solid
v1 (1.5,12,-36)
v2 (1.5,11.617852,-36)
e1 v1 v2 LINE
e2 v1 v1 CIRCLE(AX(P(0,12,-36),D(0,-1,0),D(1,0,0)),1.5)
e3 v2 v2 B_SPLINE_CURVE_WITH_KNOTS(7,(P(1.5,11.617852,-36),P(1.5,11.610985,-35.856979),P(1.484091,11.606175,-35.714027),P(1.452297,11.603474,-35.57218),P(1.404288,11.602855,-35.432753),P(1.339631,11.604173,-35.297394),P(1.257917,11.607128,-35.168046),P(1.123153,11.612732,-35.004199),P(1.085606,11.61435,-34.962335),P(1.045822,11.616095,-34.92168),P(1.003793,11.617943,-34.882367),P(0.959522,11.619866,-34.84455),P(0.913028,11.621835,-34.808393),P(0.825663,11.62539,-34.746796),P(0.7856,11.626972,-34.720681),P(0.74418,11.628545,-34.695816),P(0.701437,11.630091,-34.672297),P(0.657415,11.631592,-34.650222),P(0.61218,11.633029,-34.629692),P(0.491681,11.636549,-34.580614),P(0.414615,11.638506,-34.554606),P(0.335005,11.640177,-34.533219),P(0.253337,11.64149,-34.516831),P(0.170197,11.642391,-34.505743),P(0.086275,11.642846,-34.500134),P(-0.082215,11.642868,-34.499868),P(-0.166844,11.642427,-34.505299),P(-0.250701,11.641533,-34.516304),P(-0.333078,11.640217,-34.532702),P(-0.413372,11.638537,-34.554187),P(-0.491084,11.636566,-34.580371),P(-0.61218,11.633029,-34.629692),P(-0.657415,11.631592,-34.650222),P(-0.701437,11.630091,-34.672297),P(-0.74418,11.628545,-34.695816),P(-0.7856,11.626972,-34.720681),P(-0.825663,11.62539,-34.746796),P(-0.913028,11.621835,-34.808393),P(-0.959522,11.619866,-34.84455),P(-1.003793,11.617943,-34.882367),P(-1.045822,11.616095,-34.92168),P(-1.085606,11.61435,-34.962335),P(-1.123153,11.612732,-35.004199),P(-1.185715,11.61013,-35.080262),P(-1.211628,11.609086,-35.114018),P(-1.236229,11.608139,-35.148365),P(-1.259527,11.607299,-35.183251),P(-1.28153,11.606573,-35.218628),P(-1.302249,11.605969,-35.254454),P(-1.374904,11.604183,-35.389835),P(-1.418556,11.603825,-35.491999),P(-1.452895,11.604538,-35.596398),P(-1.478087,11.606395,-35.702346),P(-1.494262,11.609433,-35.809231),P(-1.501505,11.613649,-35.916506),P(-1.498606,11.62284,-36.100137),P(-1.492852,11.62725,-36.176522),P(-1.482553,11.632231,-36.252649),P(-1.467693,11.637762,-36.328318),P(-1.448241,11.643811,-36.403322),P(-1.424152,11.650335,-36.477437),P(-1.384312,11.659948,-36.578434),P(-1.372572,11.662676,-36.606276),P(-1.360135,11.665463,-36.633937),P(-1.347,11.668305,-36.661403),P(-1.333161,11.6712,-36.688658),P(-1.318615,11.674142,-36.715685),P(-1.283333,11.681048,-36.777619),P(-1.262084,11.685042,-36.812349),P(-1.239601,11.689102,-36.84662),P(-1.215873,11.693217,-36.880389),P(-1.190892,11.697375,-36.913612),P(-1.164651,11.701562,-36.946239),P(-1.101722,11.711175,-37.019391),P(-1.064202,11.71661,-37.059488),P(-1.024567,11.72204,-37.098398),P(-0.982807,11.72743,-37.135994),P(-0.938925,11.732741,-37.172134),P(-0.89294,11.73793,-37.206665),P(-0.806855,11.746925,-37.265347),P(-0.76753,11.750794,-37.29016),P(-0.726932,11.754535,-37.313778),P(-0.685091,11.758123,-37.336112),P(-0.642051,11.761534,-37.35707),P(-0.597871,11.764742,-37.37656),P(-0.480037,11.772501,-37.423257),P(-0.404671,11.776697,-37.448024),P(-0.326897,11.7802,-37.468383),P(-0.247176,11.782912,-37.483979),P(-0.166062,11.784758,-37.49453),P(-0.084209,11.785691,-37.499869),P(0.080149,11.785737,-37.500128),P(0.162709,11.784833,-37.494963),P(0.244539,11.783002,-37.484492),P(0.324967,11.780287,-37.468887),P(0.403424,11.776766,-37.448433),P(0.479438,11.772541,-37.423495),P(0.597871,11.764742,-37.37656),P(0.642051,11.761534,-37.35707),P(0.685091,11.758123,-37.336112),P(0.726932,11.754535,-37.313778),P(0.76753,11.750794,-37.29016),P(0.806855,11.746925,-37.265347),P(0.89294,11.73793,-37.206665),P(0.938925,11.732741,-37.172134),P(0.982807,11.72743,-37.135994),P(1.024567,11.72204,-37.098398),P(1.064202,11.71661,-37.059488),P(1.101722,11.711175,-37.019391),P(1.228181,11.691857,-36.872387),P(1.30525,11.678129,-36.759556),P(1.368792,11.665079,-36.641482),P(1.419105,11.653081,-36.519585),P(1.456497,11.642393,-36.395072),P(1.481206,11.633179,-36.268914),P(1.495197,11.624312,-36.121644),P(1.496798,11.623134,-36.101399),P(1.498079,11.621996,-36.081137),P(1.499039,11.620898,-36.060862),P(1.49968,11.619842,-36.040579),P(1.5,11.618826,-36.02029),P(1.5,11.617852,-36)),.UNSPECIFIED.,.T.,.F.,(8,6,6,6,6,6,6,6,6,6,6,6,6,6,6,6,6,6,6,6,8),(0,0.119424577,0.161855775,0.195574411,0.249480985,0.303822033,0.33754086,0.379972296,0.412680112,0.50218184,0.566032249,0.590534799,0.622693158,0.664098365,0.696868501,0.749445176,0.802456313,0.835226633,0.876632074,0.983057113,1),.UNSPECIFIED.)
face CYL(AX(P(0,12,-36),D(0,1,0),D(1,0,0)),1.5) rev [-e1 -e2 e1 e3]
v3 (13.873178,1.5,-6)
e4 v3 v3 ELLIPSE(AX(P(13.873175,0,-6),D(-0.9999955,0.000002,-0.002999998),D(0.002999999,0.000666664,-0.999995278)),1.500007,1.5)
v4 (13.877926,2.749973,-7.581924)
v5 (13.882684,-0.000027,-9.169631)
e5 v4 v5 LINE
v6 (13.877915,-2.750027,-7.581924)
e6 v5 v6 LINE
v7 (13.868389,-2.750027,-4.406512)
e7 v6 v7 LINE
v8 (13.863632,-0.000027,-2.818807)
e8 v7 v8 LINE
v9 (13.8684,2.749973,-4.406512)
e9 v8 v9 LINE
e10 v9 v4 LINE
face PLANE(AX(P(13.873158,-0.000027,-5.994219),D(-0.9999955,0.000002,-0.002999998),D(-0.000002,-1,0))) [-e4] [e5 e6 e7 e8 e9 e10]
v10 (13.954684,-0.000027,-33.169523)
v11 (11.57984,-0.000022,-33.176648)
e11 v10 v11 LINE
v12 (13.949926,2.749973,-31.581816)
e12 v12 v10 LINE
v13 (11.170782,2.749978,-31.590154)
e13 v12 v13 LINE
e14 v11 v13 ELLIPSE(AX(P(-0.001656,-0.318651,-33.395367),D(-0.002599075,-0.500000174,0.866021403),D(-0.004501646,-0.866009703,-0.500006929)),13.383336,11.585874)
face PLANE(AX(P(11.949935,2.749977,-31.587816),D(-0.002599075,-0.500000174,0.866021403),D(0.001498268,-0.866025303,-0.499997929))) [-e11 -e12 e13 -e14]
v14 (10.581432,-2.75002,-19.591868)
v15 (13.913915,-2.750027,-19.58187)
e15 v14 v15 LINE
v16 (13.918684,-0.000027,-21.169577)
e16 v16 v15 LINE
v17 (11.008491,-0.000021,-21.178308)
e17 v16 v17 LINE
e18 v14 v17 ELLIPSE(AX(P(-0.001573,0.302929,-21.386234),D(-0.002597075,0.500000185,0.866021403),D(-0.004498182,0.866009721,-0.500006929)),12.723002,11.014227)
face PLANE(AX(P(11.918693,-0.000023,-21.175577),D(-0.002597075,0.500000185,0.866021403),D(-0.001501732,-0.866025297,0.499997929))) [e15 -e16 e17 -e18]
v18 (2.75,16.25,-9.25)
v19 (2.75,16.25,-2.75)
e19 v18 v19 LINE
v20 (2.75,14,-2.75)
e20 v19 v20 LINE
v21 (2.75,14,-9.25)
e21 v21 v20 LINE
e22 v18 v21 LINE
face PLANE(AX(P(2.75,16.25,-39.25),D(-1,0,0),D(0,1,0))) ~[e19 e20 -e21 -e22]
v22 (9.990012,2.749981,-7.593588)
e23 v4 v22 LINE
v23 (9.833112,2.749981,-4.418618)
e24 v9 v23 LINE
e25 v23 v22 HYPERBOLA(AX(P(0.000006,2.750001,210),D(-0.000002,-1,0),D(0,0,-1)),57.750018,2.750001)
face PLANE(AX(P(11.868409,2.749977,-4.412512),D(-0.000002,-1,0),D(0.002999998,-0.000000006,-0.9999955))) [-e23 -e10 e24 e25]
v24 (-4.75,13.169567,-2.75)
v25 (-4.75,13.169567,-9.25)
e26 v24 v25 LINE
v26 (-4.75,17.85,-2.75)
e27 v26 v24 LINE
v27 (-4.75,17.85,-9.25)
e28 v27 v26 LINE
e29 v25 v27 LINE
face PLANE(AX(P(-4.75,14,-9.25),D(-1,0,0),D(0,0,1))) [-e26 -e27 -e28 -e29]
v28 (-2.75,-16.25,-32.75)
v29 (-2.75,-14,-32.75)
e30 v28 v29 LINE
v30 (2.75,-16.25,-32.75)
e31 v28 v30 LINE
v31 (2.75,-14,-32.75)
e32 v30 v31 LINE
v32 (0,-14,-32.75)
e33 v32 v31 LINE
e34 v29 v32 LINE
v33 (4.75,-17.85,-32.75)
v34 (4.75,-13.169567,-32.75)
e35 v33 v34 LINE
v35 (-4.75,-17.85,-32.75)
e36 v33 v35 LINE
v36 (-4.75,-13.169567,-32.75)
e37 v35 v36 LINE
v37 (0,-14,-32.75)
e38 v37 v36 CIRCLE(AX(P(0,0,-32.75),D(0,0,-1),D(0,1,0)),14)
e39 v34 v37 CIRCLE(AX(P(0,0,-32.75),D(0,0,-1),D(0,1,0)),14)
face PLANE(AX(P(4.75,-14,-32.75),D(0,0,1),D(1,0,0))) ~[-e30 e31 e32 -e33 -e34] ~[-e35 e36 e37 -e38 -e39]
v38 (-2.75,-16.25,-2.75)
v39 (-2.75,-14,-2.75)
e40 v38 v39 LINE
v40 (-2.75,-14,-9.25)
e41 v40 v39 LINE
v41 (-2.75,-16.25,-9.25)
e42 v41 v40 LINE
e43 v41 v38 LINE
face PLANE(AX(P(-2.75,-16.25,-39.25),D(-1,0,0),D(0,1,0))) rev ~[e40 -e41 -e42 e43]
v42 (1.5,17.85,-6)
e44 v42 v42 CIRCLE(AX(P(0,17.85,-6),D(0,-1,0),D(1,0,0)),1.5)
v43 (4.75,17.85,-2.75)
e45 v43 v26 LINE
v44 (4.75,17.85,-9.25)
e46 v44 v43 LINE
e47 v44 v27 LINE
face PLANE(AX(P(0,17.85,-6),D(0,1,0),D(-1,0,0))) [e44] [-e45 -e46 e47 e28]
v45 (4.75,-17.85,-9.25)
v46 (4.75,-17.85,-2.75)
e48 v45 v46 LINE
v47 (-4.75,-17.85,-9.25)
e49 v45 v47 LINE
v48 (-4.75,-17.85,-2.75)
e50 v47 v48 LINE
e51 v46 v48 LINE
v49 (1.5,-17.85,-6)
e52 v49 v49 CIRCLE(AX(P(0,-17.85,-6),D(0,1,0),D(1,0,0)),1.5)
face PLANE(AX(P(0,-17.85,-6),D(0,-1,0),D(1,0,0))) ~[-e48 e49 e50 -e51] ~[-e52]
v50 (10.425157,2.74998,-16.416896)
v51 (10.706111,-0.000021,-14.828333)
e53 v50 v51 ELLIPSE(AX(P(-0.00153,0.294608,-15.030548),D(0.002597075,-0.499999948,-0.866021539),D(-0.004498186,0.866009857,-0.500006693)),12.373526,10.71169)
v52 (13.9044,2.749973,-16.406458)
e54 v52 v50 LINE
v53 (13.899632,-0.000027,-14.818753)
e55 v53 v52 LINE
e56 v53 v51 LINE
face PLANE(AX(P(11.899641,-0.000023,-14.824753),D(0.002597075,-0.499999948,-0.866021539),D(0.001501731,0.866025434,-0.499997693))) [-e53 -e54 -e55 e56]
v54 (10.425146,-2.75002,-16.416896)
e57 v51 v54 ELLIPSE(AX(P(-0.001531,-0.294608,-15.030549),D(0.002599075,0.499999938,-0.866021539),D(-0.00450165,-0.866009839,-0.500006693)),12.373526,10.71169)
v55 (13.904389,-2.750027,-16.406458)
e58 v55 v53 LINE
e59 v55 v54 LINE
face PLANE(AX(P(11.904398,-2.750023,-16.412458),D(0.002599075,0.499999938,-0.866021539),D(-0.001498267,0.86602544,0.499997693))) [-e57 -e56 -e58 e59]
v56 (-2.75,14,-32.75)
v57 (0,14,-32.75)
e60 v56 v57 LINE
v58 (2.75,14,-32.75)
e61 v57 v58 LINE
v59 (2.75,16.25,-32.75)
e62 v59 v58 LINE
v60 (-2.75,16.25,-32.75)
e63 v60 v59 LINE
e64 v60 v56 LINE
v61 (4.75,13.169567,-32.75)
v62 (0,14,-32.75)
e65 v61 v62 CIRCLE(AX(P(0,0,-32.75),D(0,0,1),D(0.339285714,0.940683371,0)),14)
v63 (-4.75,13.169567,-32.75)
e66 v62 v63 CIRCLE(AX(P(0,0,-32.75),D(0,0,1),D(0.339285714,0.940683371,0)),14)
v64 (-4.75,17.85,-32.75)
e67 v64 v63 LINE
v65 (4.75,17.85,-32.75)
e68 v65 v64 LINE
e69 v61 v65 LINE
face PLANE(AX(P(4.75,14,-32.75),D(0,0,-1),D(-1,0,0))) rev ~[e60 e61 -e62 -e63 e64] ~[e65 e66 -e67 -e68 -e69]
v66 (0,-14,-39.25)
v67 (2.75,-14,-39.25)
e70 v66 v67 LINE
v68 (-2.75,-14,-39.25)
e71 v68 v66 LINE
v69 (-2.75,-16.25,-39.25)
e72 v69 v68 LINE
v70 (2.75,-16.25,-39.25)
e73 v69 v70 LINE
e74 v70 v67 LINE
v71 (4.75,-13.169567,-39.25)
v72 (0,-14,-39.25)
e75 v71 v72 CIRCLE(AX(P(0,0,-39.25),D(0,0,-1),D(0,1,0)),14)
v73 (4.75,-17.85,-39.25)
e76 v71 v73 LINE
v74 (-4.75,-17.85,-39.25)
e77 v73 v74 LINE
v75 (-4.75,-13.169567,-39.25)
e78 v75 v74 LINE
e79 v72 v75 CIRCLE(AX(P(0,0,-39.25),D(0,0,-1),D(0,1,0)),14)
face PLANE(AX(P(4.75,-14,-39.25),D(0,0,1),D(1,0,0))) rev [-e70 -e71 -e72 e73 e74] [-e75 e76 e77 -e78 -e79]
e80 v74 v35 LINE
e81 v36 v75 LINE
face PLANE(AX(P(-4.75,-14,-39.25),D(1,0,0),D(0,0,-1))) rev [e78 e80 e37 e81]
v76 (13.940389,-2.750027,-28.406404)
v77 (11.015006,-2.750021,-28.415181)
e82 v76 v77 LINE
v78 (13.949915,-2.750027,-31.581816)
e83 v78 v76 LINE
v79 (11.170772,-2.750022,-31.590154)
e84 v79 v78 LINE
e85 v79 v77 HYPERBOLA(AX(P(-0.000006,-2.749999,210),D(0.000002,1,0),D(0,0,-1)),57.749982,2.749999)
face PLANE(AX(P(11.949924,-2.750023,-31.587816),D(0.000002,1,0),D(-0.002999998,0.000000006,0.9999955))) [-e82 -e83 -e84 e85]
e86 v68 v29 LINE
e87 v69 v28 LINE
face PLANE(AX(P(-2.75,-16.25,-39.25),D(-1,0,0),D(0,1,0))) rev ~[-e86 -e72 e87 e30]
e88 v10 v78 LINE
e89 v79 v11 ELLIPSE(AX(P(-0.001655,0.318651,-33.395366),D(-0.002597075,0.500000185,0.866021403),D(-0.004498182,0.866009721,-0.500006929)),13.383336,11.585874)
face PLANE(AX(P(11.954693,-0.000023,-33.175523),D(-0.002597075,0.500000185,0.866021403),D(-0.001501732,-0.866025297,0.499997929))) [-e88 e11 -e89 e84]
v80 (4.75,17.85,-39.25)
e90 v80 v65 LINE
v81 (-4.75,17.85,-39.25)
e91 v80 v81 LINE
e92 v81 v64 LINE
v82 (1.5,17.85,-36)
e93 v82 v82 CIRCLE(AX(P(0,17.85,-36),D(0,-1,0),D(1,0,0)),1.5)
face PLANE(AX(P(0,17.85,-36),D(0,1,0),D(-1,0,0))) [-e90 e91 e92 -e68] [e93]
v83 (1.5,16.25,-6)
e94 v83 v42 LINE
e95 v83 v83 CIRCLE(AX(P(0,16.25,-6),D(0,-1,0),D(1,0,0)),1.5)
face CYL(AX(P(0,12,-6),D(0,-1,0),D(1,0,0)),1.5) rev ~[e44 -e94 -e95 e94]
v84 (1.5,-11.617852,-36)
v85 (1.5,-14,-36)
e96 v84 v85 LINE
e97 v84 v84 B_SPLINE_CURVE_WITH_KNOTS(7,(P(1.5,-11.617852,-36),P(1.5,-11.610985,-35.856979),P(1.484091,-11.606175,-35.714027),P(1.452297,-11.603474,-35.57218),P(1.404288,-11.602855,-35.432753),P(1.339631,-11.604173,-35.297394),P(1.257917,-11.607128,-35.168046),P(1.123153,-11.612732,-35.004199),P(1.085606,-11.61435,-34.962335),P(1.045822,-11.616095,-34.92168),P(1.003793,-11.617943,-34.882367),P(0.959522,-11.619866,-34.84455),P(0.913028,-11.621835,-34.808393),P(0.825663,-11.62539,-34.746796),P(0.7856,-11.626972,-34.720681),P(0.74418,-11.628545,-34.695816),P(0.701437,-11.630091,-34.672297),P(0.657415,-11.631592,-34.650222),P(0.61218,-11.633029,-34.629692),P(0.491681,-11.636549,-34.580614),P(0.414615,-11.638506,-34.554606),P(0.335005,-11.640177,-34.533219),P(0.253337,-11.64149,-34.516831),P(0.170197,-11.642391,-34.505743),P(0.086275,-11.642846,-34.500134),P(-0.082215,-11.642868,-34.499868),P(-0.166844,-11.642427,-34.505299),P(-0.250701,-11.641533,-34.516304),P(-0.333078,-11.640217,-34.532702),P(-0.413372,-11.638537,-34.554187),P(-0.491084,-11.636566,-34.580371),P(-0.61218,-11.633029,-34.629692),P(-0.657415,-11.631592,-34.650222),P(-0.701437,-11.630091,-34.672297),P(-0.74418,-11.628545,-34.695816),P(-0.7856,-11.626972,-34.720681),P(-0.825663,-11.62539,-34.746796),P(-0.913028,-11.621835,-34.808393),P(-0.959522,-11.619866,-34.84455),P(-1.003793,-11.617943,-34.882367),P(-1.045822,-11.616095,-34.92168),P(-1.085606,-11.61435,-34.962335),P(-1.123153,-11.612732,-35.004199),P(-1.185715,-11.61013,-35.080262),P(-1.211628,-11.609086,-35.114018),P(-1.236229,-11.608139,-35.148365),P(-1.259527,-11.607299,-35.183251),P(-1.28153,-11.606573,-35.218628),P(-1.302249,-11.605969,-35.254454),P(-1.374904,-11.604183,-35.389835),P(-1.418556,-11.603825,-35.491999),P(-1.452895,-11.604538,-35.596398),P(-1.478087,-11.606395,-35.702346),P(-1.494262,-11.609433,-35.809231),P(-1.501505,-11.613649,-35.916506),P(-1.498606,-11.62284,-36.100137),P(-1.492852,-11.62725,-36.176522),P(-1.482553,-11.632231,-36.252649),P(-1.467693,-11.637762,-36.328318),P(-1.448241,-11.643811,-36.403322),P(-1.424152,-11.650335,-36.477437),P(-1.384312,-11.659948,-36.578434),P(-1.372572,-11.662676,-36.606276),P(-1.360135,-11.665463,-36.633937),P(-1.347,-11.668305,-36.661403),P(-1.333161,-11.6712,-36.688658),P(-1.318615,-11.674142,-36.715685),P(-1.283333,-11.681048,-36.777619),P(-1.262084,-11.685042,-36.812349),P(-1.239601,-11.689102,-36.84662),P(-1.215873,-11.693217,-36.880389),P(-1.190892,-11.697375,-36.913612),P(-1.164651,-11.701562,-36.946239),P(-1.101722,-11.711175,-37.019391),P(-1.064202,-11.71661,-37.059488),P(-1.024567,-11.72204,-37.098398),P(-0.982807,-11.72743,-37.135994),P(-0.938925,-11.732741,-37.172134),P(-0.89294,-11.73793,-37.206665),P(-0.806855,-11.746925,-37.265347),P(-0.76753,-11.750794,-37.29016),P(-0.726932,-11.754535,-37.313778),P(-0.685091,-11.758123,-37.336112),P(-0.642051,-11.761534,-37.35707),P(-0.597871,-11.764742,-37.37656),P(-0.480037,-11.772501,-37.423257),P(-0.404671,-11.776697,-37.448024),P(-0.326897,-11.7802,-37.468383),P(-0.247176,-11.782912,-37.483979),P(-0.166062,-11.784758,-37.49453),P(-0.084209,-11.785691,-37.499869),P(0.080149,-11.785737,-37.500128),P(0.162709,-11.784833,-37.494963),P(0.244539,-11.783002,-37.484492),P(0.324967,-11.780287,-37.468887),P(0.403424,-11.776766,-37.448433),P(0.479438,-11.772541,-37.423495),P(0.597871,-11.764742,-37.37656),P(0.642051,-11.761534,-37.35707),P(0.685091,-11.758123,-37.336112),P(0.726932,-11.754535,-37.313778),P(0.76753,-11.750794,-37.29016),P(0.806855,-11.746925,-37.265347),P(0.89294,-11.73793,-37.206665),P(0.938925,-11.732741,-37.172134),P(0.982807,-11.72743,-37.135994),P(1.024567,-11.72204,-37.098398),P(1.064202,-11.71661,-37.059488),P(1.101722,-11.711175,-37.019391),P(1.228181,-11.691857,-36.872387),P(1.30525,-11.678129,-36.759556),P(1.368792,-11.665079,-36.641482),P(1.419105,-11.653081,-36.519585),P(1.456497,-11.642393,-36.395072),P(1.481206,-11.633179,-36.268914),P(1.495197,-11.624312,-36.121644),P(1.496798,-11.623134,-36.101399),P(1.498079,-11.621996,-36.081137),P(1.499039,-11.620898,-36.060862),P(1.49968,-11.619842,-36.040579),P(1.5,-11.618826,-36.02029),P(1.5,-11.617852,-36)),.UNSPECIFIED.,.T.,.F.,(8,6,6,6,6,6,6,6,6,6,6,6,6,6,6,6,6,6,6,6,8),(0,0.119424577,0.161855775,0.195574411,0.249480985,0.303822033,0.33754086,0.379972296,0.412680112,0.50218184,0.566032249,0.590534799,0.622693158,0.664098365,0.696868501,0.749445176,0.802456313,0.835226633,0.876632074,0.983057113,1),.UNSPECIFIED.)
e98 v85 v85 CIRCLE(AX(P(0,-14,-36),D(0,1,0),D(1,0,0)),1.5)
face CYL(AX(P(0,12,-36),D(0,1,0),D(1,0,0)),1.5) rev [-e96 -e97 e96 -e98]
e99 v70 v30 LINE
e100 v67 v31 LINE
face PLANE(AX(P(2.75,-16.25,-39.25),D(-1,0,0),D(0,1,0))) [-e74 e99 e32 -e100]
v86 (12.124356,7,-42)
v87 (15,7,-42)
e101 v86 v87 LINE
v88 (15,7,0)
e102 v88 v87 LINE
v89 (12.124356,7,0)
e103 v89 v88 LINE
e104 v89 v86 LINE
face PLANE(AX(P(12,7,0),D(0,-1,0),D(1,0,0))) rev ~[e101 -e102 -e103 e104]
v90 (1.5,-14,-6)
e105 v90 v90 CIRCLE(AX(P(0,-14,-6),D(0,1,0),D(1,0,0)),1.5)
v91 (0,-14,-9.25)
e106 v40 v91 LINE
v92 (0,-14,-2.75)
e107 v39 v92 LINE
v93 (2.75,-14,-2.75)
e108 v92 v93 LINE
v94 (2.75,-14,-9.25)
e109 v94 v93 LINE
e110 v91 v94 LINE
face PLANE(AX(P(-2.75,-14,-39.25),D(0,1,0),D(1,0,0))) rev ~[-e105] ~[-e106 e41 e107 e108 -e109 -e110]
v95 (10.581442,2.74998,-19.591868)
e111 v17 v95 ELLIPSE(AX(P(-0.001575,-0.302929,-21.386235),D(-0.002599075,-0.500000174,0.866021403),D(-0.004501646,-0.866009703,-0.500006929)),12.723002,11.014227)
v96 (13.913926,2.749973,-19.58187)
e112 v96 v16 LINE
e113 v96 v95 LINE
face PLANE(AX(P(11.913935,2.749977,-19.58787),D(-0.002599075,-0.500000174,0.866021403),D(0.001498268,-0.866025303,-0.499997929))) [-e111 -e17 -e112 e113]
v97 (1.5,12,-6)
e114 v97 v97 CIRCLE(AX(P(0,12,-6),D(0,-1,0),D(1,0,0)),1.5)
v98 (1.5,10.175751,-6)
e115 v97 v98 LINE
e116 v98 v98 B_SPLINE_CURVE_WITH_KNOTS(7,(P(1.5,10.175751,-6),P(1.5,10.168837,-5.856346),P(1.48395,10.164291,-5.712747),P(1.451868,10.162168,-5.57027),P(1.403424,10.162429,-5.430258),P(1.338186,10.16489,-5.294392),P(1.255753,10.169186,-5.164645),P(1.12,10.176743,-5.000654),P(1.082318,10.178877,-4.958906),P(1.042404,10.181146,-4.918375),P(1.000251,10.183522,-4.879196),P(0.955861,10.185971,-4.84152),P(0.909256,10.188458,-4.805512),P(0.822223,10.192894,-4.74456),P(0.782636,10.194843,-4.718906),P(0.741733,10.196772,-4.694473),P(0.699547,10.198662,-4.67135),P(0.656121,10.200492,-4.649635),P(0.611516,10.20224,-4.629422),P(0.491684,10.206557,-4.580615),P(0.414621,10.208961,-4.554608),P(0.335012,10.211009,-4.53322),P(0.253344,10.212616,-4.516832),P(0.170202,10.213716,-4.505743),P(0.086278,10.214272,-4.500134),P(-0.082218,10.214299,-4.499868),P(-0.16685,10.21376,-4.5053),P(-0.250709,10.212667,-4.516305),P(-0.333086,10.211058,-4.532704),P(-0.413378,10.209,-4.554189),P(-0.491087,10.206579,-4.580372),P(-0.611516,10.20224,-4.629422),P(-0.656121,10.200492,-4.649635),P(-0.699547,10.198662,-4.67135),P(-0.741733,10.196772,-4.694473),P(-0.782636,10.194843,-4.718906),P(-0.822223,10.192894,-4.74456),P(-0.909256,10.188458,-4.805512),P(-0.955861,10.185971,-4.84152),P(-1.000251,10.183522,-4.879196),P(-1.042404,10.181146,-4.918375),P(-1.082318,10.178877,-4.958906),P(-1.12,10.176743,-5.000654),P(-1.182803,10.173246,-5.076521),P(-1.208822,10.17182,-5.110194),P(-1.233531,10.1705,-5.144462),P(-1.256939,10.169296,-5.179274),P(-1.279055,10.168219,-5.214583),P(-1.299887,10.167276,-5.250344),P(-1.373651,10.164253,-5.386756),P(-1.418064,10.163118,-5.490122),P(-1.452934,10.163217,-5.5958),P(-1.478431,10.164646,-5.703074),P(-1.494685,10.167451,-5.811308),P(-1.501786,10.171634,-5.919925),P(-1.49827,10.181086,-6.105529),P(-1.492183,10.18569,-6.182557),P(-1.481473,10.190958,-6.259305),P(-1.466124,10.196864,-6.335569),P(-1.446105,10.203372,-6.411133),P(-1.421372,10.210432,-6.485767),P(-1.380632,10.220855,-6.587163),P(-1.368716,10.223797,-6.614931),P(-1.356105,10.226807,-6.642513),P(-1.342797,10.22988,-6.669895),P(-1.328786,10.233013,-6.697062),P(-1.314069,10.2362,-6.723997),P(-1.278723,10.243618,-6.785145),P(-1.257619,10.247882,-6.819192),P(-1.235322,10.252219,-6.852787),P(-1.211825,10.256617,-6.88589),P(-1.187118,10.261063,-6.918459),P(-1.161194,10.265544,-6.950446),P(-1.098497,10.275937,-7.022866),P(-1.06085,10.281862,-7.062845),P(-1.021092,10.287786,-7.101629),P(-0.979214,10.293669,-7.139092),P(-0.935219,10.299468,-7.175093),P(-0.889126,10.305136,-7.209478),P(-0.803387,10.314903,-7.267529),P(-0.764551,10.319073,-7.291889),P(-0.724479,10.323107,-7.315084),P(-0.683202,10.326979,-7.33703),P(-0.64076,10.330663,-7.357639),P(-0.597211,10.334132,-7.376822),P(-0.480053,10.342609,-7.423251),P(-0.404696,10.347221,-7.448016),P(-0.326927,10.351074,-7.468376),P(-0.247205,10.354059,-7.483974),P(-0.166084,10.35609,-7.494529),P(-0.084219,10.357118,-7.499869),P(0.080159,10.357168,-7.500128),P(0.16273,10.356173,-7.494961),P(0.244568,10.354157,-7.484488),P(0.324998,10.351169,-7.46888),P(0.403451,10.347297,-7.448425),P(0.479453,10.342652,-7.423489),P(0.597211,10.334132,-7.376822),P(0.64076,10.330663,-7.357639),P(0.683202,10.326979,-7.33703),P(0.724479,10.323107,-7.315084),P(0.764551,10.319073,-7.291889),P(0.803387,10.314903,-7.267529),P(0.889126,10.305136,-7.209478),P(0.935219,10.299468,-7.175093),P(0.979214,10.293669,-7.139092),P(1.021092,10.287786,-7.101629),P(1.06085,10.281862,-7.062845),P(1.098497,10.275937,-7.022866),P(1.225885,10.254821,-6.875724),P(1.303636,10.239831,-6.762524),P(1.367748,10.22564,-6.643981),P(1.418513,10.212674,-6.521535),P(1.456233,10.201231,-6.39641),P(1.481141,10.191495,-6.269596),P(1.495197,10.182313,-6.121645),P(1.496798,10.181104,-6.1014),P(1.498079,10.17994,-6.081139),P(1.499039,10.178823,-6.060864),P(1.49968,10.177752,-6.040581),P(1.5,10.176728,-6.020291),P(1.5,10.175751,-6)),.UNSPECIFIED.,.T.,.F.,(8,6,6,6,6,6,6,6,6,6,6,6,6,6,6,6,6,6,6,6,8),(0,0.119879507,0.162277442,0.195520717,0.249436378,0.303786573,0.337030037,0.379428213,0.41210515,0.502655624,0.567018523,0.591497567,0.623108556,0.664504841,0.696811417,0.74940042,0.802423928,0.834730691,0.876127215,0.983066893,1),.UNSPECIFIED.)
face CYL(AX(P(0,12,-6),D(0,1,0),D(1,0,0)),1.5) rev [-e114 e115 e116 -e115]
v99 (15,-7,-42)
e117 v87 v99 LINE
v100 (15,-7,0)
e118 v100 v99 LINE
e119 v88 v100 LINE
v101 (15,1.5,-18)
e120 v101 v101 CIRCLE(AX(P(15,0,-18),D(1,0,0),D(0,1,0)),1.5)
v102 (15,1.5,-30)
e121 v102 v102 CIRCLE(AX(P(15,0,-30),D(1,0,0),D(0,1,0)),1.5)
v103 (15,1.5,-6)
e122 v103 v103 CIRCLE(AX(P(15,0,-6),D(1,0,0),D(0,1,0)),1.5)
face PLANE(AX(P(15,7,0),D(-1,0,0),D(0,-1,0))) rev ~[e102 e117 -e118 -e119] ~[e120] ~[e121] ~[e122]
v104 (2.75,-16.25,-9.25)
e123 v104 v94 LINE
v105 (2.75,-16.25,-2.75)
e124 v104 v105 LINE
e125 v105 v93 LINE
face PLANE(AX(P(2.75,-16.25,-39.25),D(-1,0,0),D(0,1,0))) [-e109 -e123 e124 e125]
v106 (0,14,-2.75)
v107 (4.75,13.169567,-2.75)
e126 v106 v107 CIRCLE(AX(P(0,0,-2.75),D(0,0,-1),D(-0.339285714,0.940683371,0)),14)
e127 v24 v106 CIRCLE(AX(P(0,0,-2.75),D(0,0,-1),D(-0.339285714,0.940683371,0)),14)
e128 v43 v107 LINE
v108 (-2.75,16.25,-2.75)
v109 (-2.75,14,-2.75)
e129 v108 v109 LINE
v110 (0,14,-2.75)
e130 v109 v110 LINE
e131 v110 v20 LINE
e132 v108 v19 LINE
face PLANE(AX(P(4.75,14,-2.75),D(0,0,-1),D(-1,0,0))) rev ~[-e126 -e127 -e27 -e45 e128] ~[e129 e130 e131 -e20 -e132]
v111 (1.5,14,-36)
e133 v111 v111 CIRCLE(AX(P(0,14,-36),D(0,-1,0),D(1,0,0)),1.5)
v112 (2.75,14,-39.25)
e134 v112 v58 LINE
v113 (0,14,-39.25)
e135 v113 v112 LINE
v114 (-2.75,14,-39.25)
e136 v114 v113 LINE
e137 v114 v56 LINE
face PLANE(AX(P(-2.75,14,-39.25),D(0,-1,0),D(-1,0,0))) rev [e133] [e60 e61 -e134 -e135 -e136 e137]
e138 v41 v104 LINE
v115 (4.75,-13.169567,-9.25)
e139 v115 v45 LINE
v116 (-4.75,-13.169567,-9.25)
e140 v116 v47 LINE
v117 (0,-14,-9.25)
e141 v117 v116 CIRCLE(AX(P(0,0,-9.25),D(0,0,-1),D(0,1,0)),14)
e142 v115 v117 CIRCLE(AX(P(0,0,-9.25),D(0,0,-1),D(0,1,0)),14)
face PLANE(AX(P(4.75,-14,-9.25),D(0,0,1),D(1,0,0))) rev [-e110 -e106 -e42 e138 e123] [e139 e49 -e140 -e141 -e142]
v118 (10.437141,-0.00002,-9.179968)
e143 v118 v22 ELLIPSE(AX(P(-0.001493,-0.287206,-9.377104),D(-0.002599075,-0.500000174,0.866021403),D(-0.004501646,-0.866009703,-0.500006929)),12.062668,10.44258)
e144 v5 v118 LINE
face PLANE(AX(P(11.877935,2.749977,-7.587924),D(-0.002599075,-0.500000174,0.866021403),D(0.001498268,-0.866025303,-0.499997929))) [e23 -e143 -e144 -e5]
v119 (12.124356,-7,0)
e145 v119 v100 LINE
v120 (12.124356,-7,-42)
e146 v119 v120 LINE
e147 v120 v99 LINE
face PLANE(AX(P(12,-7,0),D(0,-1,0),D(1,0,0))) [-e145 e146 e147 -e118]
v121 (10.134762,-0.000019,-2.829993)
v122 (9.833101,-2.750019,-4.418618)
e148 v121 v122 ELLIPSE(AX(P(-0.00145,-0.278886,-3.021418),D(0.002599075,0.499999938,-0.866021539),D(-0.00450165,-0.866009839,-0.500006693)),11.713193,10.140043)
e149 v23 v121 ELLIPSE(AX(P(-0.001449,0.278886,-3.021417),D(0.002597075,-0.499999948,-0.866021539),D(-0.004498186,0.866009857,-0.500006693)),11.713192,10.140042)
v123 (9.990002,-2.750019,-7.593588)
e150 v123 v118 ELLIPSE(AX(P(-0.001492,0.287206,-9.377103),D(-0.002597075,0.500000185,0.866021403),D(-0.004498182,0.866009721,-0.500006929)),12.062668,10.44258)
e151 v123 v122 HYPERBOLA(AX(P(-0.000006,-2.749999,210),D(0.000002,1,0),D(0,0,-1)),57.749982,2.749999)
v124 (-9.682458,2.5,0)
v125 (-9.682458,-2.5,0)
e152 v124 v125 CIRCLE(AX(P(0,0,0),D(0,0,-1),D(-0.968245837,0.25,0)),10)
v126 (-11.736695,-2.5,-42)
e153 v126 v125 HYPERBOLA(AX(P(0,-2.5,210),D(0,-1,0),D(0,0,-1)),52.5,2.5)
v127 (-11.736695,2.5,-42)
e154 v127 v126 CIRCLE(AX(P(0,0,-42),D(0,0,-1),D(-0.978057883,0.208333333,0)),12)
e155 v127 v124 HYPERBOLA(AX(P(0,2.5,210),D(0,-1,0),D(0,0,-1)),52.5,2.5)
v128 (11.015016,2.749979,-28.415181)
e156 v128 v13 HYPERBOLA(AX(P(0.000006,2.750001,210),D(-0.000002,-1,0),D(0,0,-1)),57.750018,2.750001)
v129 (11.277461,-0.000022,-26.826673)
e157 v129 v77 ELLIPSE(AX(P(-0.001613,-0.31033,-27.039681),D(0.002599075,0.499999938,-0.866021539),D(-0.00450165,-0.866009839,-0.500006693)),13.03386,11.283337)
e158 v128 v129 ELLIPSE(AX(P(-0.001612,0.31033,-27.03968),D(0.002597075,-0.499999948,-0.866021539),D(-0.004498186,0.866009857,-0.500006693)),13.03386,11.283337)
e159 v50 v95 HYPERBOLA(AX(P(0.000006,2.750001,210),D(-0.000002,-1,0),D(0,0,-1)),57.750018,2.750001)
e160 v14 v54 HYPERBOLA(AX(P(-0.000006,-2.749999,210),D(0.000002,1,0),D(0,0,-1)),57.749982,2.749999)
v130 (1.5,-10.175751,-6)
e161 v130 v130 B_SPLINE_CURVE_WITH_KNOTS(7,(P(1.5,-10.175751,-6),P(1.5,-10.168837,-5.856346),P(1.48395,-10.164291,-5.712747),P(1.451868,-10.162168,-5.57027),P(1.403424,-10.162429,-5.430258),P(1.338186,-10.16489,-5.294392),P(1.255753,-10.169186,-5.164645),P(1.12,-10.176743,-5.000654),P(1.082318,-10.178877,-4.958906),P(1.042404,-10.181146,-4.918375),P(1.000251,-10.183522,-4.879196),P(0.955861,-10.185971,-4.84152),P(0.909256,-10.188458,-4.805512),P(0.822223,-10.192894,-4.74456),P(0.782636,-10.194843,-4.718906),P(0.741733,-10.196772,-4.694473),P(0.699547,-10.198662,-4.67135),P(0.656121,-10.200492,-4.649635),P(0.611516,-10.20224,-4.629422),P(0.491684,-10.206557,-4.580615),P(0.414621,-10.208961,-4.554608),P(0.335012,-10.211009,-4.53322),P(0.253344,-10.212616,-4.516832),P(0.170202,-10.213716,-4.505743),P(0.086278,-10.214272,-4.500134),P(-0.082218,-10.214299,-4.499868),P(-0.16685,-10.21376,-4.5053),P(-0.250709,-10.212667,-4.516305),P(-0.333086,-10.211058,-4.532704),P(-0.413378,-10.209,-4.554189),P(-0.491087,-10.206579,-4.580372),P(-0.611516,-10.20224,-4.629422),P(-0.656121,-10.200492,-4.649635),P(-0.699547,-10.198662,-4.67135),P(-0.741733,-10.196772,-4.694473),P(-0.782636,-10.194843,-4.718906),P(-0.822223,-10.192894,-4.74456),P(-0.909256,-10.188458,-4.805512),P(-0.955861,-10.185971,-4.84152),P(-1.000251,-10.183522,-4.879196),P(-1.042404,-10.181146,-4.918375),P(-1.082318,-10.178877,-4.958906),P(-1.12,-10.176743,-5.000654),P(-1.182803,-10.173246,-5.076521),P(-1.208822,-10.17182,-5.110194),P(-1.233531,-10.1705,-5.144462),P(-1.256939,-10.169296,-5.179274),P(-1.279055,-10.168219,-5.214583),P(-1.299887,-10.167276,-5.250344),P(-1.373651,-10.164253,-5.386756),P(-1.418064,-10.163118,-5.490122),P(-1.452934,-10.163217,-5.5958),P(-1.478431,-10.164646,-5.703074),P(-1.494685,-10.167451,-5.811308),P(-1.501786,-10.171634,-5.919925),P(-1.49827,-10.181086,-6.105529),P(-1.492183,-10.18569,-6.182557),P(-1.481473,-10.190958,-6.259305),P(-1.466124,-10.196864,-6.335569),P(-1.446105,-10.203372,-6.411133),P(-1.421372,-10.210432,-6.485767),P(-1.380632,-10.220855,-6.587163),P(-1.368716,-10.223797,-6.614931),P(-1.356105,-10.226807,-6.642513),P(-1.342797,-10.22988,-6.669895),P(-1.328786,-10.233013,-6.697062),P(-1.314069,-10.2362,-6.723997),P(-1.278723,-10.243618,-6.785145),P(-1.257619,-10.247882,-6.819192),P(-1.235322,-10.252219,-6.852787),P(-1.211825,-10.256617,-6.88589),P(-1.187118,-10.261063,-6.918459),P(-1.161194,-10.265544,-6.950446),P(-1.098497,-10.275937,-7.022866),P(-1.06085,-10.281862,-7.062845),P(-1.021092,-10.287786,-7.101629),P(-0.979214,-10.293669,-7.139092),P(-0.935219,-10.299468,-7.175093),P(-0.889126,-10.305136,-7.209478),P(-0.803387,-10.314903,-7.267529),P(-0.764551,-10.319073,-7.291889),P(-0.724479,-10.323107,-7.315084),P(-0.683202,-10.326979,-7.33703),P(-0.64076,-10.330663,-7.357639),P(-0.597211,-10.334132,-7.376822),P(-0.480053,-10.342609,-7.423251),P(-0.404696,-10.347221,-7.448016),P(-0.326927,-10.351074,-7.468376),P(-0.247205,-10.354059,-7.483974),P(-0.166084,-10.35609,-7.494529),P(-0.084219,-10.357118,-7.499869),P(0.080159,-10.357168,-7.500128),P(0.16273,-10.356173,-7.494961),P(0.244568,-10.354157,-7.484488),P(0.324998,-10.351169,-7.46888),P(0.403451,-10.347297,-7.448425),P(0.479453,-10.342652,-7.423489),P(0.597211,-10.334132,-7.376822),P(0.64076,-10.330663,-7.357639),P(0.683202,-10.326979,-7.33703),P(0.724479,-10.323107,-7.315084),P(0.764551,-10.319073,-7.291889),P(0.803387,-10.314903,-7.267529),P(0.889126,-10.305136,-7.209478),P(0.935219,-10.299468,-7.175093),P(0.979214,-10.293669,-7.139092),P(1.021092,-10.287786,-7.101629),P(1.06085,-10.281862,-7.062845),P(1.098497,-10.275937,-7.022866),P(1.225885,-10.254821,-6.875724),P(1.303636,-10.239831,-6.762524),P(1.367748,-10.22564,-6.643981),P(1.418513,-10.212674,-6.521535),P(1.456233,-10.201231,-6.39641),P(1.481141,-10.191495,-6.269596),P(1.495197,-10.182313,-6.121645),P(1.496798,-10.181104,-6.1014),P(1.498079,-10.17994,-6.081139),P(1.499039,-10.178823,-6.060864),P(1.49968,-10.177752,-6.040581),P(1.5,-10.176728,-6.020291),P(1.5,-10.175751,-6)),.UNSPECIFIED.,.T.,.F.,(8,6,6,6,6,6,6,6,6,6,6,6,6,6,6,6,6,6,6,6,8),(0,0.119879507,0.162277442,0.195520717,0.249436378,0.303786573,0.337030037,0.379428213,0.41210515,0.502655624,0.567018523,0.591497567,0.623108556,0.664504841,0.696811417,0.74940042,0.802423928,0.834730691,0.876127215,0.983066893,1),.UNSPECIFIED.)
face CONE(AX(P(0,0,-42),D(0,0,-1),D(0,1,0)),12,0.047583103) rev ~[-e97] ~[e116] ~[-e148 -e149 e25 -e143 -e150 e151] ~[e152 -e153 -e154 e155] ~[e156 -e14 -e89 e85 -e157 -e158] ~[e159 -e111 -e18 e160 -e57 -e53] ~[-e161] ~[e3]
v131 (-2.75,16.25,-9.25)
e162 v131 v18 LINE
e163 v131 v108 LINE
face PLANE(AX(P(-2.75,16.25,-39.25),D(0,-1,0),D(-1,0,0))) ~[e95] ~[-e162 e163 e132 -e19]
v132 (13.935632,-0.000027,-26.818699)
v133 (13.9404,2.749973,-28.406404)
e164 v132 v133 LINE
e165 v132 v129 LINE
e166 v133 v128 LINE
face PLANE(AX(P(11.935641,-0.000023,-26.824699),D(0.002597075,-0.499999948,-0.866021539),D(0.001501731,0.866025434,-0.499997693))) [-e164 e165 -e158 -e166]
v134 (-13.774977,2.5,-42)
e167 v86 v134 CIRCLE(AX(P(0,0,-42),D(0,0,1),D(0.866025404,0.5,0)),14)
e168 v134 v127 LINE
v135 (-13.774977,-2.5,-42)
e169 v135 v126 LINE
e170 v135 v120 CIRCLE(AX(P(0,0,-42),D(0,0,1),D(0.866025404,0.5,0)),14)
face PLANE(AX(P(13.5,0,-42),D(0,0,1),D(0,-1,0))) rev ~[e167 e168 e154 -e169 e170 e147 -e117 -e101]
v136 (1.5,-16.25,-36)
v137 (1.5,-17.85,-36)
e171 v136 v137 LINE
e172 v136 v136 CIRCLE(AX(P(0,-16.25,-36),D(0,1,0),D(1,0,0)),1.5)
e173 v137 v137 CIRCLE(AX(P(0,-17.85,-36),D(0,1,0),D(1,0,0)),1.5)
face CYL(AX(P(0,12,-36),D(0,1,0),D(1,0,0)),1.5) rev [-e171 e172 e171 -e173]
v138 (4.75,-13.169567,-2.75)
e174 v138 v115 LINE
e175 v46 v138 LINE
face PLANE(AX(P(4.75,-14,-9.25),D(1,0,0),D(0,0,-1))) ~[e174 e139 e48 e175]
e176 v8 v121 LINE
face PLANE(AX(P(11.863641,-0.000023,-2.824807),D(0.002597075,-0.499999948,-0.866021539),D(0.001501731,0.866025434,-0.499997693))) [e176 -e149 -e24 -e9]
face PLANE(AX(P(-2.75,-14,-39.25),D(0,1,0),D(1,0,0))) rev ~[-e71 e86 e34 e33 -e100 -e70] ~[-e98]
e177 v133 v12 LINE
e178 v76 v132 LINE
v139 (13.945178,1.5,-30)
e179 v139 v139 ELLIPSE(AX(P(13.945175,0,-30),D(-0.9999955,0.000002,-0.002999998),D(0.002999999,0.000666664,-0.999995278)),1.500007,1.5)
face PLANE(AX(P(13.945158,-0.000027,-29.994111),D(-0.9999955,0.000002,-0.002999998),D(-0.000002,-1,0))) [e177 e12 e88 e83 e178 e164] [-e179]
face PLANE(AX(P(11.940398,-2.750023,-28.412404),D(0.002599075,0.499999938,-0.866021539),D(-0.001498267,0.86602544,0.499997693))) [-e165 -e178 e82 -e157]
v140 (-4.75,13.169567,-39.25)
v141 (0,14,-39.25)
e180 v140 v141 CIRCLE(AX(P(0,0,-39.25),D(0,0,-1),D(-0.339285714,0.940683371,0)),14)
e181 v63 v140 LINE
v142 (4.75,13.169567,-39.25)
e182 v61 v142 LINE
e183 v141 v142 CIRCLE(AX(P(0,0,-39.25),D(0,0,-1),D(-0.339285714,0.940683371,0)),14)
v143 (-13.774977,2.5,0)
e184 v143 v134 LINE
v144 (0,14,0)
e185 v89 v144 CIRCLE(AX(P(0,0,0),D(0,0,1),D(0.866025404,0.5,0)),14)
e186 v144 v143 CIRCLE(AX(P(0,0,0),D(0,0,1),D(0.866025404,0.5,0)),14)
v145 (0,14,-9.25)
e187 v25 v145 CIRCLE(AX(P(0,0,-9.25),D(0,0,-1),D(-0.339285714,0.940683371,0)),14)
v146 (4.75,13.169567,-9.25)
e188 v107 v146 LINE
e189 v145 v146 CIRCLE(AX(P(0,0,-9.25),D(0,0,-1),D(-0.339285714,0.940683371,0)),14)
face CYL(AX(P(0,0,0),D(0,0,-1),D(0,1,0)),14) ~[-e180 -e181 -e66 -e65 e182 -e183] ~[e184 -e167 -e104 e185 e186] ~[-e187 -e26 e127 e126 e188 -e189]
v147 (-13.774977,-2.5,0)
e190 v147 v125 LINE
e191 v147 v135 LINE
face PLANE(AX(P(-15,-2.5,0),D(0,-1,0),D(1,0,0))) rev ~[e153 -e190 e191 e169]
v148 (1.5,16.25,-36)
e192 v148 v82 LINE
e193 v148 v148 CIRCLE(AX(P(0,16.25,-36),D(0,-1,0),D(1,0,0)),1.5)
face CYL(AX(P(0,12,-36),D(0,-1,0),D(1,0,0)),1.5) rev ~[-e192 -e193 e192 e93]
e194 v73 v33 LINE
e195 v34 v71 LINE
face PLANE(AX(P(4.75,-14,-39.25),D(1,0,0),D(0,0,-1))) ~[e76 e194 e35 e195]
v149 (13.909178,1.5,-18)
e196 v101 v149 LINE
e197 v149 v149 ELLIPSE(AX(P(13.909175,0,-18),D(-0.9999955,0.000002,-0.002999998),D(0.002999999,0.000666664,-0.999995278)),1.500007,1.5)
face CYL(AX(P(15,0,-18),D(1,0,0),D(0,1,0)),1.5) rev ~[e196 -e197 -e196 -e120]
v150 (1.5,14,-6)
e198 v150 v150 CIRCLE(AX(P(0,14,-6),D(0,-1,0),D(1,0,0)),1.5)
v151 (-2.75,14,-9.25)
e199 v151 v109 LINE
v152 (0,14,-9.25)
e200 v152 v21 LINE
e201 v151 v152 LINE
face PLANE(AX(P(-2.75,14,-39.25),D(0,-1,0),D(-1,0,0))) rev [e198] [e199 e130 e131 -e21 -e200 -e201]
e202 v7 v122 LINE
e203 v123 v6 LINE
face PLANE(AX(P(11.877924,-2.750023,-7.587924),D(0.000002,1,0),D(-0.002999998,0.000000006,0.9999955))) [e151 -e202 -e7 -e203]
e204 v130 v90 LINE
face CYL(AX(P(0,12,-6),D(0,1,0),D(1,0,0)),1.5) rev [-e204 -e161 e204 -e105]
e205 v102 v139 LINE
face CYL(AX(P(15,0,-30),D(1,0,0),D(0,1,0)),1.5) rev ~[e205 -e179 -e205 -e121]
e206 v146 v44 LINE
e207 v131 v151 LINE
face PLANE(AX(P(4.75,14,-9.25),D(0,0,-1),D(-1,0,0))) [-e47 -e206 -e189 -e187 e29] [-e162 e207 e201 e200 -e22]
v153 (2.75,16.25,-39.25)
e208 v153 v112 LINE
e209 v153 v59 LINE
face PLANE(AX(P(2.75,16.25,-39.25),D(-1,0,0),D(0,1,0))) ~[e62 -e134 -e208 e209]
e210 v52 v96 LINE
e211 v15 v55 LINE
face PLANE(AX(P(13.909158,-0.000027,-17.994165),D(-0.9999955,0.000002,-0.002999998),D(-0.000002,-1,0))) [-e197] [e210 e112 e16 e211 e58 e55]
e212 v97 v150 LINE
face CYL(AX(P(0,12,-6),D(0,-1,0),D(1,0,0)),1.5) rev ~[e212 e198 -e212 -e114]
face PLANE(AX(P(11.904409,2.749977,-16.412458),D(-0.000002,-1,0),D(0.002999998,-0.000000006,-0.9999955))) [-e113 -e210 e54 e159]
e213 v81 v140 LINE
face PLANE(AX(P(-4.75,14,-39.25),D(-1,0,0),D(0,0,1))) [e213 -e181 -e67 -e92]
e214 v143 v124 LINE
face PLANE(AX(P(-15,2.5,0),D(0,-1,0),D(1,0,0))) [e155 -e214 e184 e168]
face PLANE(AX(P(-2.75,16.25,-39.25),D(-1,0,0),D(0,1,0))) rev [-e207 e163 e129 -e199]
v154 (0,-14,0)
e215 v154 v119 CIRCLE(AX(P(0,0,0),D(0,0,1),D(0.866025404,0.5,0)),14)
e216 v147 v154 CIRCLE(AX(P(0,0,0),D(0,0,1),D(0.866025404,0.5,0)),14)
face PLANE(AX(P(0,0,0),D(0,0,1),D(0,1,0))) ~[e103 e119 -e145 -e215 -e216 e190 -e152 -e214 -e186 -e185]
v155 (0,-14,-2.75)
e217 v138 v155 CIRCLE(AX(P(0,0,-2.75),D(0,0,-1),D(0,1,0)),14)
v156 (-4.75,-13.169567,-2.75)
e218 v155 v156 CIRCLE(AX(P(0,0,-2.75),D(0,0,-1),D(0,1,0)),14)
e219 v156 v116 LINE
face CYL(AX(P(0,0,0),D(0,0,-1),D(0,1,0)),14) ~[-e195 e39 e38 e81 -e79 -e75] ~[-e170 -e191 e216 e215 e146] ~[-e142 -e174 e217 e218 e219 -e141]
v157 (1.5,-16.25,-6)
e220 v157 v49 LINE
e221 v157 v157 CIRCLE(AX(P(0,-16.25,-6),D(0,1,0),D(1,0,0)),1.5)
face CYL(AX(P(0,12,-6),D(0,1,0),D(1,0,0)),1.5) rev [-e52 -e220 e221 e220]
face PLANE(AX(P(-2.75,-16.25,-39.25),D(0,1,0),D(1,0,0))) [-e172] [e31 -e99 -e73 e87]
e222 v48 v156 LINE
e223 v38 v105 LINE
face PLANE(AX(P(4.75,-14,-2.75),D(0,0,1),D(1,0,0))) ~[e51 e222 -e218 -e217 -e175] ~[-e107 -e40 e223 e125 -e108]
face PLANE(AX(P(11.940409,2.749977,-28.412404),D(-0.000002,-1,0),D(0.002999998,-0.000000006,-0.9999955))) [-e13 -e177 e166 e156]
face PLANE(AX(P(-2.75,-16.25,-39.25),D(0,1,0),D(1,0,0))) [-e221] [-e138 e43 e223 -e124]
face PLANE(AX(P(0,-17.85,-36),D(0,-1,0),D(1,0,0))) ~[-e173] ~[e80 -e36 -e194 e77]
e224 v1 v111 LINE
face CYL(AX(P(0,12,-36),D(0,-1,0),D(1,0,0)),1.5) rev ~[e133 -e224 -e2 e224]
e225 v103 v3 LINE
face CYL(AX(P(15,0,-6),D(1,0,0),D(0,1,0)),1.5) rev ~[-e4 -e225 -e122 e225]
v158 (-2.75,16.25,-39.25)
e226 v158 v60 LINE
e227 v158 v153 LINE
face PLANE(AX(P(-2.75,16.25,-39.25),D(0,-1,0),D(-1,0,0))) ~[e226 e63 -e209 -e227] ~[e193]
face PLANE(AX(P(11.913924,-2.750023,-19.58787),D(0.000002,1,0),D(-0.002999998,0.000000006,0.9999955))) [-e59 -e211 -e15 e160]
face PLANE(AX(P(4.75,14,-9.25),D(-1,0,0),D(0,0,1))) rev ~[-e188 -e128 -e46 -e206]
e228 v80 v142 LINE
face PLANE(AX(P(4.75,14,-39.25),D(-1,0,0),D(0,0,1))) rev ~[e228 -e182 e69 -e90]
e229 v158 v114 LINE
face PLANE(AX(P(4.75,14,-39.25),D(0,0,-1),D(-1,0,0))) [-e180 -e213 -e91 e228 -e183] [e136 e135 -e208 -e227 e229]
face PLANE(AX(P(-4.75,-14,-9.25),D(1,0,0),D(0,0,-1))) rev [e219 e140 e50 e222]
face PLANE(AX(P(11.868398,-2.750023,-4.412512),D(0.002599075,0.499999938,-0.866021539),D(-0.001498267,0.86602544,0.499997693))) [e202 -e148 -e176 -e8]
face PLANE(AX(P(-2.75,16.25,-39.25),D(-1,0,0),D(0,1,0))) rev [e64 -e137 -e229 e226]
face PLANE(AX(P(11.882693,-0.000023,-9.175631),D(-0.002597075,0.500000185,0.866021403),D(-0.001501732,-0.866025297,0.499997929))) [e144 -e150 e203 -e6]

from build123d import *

# Parameters (mm, degrees)
SKETCH014_W          = 14
SKETCH014_H          = 3
PAD006_DEPTH         = 42
SKETCH015_R          = 1.5
POCKET007_DEPTH      = 5
POCKET008_DEPTH      = 2
POCKET008_DEPTH_BACK = 3
SKETCH018_W          = 5
SKETCH018_H          = 15
POCKET009_DEPTH      = 43
SKETCH020_W          = 9.5
SKETCH020_H          = 6.5
PAD008_DEPTH         = 3.85
PAD008_DEPTH_BACK    = 1
SKETCH019_R          = 1.5
POCKET010_DEPTH      = 8
POCKET010_DEPTH_BACK = 100
SKETCH021_W          = 2.25
SKETCH021_H          = 5.5
POCKET011_DEPTH      = 42


with BuildPart() as part:
    # Sketch013 → Revolution (revolve)
    with BuildSketch(Plane.YZ):
        Polygon((10, 0), (14, 0), (14, -42), (12, -42), align=None)
    revolve(axis=Axis((0, 0, 0), (0, 0, 1)))

    # Sketch014 (on Face1 of Revolution) → Pad006 (new body)
    with BuildSketch(Plane(origin=(0, 0, 0), x_dir=(0, -1, 0), z_dir=(0, 0, 1))):
        with Locations((0, 13.5)):
            Rectangle(SKETCH014_W, SKETCH014_H)
    extrude(amount=-PAD006_DEPTH)

    # Sketch015 (on Face11 of Pad006) → Pocket007 (cut)
    with BuildSketch(Plane.YZ.offset(15)):
        with Locations((0, -6)):
            Circle(SKETCH015_R)
        with Locations((0, -18)):
            Circle(SKETCH015_R)
        with Locations((0, -30)):
            Circle(SKETCH015_R)
    extrude(amount=-POCKET007_DEPTH, mode=Mode.SUBTRACT)

    # Sketch016 (on DatumPlane) → Pocket008 (cut, two sides)
    with BuildSketch(Plane(origin=(11.920048, -2.3e-05, -21.627207), x_dir=(-2e-06, -1, 0), z_dir=(-0.999996, 2e-06, -0.003))) as pocket008_sk:
        Polygon((2.75, 14.039346), (2.75, 17.214772), (0, 18.802485), (-2.75, 17.214772), (-2.75, 14.039346), (0, 12.451632), align=None)
        Polygon((2.75, 2.039346), (2.75, 5.214772), (0, 6.802485), (-2.75, 5.214772), (-2.75, 2.039346), (0, 0.451632), align=None)
        Polygon((2.75, -9.960654), (2.75, -6.785228), (0, -5.197515), (-2.75, -6.785228), (-2.75, -9.960654), (0, -11.548368), align=None)
    extrude(amount=-POCKET008_DEPTH, mode=Mode.SUBTRACT)
    extrude(pocket008_sk.sketch, amount=POCKET008_DEPTH_BACK, mode=Mode.SUBTRACT)

    # Sketch018 (on Face1 of Pocket008) → Pocket009 (cut)
    with BuildSketch(Plane(origin=(0, 0, 0), x_dir=(0, -1, 0), z_dir=(0, 0, 1))):
        with Locations((0, -7.5)):
            Rectangle(SKETCH018_W, SKETCH018_H)
    extrude(amount=-POCKET009_DEPTH, mode=Mode.SUBTRACT)

    # Sketch020 (on DatumPlane) → Pad008 (join, two sides)
    with BuildSketch(Plane(origin=(15, 14, 0), x_dir=(-1, 0, 0), z_dir=(0, 1, 0))) as pad008_sk:
        with Locations((15, -6)):
            Rectangle(SKETCH020_W, SKETCH020_H)
        with Locations((15, -36)):
            Rectangle(SKETCH020_W, SKETCH020_H)
    pad008 = extrude(amount=PAD008_DEPTH) + extrude(pad008_sk.sketch, amount=-PAD008_DEPTH_BACK)

    # Mirrored: Pad008 across XZ
    add(pad008.mirror(Plane.XZ))

    # Sketch019 (on DatumPlane) → Pocket010 (cut, two sides)
    with BuildSketch(Plane(origin=(15, 12, 0), x_dir=(1, 0, 0), z_dir=(0, -1, 0))) as pocket010_sk:
        with Locations((-15, -6)):
            Circle(SKETCH019_R)
        with Locations((-15, -36)):
            Circle(SKETCH019_R)
    extrude(amount=-POCKET010_DEPTH, mode=Mode.SUBTRACT)
    extrude(pocket010_sk.sketch, amount=POCKET010_DEPTH_BACK, mode=Mode.SUBTRACT)

    # Sketch021 (on Face17 of Pocket010) → Pocket011 (cut)
    with BuildSketch(Plane.YX.offset(39.25)):
        with Locations((-15.125, 0)):
            Rectangle(SKETCH021_W, SKETCH021_H)
    pocket011 = extrude(amount=-POCKET011_DEPTH, mode=Mode.SUBTRACT)

    # Mirrored001: Pocket011 across XZ
    add(pocket011.mirror(Plane.XZ), mode=Mode.SUBTRACT)


solid = part.part
